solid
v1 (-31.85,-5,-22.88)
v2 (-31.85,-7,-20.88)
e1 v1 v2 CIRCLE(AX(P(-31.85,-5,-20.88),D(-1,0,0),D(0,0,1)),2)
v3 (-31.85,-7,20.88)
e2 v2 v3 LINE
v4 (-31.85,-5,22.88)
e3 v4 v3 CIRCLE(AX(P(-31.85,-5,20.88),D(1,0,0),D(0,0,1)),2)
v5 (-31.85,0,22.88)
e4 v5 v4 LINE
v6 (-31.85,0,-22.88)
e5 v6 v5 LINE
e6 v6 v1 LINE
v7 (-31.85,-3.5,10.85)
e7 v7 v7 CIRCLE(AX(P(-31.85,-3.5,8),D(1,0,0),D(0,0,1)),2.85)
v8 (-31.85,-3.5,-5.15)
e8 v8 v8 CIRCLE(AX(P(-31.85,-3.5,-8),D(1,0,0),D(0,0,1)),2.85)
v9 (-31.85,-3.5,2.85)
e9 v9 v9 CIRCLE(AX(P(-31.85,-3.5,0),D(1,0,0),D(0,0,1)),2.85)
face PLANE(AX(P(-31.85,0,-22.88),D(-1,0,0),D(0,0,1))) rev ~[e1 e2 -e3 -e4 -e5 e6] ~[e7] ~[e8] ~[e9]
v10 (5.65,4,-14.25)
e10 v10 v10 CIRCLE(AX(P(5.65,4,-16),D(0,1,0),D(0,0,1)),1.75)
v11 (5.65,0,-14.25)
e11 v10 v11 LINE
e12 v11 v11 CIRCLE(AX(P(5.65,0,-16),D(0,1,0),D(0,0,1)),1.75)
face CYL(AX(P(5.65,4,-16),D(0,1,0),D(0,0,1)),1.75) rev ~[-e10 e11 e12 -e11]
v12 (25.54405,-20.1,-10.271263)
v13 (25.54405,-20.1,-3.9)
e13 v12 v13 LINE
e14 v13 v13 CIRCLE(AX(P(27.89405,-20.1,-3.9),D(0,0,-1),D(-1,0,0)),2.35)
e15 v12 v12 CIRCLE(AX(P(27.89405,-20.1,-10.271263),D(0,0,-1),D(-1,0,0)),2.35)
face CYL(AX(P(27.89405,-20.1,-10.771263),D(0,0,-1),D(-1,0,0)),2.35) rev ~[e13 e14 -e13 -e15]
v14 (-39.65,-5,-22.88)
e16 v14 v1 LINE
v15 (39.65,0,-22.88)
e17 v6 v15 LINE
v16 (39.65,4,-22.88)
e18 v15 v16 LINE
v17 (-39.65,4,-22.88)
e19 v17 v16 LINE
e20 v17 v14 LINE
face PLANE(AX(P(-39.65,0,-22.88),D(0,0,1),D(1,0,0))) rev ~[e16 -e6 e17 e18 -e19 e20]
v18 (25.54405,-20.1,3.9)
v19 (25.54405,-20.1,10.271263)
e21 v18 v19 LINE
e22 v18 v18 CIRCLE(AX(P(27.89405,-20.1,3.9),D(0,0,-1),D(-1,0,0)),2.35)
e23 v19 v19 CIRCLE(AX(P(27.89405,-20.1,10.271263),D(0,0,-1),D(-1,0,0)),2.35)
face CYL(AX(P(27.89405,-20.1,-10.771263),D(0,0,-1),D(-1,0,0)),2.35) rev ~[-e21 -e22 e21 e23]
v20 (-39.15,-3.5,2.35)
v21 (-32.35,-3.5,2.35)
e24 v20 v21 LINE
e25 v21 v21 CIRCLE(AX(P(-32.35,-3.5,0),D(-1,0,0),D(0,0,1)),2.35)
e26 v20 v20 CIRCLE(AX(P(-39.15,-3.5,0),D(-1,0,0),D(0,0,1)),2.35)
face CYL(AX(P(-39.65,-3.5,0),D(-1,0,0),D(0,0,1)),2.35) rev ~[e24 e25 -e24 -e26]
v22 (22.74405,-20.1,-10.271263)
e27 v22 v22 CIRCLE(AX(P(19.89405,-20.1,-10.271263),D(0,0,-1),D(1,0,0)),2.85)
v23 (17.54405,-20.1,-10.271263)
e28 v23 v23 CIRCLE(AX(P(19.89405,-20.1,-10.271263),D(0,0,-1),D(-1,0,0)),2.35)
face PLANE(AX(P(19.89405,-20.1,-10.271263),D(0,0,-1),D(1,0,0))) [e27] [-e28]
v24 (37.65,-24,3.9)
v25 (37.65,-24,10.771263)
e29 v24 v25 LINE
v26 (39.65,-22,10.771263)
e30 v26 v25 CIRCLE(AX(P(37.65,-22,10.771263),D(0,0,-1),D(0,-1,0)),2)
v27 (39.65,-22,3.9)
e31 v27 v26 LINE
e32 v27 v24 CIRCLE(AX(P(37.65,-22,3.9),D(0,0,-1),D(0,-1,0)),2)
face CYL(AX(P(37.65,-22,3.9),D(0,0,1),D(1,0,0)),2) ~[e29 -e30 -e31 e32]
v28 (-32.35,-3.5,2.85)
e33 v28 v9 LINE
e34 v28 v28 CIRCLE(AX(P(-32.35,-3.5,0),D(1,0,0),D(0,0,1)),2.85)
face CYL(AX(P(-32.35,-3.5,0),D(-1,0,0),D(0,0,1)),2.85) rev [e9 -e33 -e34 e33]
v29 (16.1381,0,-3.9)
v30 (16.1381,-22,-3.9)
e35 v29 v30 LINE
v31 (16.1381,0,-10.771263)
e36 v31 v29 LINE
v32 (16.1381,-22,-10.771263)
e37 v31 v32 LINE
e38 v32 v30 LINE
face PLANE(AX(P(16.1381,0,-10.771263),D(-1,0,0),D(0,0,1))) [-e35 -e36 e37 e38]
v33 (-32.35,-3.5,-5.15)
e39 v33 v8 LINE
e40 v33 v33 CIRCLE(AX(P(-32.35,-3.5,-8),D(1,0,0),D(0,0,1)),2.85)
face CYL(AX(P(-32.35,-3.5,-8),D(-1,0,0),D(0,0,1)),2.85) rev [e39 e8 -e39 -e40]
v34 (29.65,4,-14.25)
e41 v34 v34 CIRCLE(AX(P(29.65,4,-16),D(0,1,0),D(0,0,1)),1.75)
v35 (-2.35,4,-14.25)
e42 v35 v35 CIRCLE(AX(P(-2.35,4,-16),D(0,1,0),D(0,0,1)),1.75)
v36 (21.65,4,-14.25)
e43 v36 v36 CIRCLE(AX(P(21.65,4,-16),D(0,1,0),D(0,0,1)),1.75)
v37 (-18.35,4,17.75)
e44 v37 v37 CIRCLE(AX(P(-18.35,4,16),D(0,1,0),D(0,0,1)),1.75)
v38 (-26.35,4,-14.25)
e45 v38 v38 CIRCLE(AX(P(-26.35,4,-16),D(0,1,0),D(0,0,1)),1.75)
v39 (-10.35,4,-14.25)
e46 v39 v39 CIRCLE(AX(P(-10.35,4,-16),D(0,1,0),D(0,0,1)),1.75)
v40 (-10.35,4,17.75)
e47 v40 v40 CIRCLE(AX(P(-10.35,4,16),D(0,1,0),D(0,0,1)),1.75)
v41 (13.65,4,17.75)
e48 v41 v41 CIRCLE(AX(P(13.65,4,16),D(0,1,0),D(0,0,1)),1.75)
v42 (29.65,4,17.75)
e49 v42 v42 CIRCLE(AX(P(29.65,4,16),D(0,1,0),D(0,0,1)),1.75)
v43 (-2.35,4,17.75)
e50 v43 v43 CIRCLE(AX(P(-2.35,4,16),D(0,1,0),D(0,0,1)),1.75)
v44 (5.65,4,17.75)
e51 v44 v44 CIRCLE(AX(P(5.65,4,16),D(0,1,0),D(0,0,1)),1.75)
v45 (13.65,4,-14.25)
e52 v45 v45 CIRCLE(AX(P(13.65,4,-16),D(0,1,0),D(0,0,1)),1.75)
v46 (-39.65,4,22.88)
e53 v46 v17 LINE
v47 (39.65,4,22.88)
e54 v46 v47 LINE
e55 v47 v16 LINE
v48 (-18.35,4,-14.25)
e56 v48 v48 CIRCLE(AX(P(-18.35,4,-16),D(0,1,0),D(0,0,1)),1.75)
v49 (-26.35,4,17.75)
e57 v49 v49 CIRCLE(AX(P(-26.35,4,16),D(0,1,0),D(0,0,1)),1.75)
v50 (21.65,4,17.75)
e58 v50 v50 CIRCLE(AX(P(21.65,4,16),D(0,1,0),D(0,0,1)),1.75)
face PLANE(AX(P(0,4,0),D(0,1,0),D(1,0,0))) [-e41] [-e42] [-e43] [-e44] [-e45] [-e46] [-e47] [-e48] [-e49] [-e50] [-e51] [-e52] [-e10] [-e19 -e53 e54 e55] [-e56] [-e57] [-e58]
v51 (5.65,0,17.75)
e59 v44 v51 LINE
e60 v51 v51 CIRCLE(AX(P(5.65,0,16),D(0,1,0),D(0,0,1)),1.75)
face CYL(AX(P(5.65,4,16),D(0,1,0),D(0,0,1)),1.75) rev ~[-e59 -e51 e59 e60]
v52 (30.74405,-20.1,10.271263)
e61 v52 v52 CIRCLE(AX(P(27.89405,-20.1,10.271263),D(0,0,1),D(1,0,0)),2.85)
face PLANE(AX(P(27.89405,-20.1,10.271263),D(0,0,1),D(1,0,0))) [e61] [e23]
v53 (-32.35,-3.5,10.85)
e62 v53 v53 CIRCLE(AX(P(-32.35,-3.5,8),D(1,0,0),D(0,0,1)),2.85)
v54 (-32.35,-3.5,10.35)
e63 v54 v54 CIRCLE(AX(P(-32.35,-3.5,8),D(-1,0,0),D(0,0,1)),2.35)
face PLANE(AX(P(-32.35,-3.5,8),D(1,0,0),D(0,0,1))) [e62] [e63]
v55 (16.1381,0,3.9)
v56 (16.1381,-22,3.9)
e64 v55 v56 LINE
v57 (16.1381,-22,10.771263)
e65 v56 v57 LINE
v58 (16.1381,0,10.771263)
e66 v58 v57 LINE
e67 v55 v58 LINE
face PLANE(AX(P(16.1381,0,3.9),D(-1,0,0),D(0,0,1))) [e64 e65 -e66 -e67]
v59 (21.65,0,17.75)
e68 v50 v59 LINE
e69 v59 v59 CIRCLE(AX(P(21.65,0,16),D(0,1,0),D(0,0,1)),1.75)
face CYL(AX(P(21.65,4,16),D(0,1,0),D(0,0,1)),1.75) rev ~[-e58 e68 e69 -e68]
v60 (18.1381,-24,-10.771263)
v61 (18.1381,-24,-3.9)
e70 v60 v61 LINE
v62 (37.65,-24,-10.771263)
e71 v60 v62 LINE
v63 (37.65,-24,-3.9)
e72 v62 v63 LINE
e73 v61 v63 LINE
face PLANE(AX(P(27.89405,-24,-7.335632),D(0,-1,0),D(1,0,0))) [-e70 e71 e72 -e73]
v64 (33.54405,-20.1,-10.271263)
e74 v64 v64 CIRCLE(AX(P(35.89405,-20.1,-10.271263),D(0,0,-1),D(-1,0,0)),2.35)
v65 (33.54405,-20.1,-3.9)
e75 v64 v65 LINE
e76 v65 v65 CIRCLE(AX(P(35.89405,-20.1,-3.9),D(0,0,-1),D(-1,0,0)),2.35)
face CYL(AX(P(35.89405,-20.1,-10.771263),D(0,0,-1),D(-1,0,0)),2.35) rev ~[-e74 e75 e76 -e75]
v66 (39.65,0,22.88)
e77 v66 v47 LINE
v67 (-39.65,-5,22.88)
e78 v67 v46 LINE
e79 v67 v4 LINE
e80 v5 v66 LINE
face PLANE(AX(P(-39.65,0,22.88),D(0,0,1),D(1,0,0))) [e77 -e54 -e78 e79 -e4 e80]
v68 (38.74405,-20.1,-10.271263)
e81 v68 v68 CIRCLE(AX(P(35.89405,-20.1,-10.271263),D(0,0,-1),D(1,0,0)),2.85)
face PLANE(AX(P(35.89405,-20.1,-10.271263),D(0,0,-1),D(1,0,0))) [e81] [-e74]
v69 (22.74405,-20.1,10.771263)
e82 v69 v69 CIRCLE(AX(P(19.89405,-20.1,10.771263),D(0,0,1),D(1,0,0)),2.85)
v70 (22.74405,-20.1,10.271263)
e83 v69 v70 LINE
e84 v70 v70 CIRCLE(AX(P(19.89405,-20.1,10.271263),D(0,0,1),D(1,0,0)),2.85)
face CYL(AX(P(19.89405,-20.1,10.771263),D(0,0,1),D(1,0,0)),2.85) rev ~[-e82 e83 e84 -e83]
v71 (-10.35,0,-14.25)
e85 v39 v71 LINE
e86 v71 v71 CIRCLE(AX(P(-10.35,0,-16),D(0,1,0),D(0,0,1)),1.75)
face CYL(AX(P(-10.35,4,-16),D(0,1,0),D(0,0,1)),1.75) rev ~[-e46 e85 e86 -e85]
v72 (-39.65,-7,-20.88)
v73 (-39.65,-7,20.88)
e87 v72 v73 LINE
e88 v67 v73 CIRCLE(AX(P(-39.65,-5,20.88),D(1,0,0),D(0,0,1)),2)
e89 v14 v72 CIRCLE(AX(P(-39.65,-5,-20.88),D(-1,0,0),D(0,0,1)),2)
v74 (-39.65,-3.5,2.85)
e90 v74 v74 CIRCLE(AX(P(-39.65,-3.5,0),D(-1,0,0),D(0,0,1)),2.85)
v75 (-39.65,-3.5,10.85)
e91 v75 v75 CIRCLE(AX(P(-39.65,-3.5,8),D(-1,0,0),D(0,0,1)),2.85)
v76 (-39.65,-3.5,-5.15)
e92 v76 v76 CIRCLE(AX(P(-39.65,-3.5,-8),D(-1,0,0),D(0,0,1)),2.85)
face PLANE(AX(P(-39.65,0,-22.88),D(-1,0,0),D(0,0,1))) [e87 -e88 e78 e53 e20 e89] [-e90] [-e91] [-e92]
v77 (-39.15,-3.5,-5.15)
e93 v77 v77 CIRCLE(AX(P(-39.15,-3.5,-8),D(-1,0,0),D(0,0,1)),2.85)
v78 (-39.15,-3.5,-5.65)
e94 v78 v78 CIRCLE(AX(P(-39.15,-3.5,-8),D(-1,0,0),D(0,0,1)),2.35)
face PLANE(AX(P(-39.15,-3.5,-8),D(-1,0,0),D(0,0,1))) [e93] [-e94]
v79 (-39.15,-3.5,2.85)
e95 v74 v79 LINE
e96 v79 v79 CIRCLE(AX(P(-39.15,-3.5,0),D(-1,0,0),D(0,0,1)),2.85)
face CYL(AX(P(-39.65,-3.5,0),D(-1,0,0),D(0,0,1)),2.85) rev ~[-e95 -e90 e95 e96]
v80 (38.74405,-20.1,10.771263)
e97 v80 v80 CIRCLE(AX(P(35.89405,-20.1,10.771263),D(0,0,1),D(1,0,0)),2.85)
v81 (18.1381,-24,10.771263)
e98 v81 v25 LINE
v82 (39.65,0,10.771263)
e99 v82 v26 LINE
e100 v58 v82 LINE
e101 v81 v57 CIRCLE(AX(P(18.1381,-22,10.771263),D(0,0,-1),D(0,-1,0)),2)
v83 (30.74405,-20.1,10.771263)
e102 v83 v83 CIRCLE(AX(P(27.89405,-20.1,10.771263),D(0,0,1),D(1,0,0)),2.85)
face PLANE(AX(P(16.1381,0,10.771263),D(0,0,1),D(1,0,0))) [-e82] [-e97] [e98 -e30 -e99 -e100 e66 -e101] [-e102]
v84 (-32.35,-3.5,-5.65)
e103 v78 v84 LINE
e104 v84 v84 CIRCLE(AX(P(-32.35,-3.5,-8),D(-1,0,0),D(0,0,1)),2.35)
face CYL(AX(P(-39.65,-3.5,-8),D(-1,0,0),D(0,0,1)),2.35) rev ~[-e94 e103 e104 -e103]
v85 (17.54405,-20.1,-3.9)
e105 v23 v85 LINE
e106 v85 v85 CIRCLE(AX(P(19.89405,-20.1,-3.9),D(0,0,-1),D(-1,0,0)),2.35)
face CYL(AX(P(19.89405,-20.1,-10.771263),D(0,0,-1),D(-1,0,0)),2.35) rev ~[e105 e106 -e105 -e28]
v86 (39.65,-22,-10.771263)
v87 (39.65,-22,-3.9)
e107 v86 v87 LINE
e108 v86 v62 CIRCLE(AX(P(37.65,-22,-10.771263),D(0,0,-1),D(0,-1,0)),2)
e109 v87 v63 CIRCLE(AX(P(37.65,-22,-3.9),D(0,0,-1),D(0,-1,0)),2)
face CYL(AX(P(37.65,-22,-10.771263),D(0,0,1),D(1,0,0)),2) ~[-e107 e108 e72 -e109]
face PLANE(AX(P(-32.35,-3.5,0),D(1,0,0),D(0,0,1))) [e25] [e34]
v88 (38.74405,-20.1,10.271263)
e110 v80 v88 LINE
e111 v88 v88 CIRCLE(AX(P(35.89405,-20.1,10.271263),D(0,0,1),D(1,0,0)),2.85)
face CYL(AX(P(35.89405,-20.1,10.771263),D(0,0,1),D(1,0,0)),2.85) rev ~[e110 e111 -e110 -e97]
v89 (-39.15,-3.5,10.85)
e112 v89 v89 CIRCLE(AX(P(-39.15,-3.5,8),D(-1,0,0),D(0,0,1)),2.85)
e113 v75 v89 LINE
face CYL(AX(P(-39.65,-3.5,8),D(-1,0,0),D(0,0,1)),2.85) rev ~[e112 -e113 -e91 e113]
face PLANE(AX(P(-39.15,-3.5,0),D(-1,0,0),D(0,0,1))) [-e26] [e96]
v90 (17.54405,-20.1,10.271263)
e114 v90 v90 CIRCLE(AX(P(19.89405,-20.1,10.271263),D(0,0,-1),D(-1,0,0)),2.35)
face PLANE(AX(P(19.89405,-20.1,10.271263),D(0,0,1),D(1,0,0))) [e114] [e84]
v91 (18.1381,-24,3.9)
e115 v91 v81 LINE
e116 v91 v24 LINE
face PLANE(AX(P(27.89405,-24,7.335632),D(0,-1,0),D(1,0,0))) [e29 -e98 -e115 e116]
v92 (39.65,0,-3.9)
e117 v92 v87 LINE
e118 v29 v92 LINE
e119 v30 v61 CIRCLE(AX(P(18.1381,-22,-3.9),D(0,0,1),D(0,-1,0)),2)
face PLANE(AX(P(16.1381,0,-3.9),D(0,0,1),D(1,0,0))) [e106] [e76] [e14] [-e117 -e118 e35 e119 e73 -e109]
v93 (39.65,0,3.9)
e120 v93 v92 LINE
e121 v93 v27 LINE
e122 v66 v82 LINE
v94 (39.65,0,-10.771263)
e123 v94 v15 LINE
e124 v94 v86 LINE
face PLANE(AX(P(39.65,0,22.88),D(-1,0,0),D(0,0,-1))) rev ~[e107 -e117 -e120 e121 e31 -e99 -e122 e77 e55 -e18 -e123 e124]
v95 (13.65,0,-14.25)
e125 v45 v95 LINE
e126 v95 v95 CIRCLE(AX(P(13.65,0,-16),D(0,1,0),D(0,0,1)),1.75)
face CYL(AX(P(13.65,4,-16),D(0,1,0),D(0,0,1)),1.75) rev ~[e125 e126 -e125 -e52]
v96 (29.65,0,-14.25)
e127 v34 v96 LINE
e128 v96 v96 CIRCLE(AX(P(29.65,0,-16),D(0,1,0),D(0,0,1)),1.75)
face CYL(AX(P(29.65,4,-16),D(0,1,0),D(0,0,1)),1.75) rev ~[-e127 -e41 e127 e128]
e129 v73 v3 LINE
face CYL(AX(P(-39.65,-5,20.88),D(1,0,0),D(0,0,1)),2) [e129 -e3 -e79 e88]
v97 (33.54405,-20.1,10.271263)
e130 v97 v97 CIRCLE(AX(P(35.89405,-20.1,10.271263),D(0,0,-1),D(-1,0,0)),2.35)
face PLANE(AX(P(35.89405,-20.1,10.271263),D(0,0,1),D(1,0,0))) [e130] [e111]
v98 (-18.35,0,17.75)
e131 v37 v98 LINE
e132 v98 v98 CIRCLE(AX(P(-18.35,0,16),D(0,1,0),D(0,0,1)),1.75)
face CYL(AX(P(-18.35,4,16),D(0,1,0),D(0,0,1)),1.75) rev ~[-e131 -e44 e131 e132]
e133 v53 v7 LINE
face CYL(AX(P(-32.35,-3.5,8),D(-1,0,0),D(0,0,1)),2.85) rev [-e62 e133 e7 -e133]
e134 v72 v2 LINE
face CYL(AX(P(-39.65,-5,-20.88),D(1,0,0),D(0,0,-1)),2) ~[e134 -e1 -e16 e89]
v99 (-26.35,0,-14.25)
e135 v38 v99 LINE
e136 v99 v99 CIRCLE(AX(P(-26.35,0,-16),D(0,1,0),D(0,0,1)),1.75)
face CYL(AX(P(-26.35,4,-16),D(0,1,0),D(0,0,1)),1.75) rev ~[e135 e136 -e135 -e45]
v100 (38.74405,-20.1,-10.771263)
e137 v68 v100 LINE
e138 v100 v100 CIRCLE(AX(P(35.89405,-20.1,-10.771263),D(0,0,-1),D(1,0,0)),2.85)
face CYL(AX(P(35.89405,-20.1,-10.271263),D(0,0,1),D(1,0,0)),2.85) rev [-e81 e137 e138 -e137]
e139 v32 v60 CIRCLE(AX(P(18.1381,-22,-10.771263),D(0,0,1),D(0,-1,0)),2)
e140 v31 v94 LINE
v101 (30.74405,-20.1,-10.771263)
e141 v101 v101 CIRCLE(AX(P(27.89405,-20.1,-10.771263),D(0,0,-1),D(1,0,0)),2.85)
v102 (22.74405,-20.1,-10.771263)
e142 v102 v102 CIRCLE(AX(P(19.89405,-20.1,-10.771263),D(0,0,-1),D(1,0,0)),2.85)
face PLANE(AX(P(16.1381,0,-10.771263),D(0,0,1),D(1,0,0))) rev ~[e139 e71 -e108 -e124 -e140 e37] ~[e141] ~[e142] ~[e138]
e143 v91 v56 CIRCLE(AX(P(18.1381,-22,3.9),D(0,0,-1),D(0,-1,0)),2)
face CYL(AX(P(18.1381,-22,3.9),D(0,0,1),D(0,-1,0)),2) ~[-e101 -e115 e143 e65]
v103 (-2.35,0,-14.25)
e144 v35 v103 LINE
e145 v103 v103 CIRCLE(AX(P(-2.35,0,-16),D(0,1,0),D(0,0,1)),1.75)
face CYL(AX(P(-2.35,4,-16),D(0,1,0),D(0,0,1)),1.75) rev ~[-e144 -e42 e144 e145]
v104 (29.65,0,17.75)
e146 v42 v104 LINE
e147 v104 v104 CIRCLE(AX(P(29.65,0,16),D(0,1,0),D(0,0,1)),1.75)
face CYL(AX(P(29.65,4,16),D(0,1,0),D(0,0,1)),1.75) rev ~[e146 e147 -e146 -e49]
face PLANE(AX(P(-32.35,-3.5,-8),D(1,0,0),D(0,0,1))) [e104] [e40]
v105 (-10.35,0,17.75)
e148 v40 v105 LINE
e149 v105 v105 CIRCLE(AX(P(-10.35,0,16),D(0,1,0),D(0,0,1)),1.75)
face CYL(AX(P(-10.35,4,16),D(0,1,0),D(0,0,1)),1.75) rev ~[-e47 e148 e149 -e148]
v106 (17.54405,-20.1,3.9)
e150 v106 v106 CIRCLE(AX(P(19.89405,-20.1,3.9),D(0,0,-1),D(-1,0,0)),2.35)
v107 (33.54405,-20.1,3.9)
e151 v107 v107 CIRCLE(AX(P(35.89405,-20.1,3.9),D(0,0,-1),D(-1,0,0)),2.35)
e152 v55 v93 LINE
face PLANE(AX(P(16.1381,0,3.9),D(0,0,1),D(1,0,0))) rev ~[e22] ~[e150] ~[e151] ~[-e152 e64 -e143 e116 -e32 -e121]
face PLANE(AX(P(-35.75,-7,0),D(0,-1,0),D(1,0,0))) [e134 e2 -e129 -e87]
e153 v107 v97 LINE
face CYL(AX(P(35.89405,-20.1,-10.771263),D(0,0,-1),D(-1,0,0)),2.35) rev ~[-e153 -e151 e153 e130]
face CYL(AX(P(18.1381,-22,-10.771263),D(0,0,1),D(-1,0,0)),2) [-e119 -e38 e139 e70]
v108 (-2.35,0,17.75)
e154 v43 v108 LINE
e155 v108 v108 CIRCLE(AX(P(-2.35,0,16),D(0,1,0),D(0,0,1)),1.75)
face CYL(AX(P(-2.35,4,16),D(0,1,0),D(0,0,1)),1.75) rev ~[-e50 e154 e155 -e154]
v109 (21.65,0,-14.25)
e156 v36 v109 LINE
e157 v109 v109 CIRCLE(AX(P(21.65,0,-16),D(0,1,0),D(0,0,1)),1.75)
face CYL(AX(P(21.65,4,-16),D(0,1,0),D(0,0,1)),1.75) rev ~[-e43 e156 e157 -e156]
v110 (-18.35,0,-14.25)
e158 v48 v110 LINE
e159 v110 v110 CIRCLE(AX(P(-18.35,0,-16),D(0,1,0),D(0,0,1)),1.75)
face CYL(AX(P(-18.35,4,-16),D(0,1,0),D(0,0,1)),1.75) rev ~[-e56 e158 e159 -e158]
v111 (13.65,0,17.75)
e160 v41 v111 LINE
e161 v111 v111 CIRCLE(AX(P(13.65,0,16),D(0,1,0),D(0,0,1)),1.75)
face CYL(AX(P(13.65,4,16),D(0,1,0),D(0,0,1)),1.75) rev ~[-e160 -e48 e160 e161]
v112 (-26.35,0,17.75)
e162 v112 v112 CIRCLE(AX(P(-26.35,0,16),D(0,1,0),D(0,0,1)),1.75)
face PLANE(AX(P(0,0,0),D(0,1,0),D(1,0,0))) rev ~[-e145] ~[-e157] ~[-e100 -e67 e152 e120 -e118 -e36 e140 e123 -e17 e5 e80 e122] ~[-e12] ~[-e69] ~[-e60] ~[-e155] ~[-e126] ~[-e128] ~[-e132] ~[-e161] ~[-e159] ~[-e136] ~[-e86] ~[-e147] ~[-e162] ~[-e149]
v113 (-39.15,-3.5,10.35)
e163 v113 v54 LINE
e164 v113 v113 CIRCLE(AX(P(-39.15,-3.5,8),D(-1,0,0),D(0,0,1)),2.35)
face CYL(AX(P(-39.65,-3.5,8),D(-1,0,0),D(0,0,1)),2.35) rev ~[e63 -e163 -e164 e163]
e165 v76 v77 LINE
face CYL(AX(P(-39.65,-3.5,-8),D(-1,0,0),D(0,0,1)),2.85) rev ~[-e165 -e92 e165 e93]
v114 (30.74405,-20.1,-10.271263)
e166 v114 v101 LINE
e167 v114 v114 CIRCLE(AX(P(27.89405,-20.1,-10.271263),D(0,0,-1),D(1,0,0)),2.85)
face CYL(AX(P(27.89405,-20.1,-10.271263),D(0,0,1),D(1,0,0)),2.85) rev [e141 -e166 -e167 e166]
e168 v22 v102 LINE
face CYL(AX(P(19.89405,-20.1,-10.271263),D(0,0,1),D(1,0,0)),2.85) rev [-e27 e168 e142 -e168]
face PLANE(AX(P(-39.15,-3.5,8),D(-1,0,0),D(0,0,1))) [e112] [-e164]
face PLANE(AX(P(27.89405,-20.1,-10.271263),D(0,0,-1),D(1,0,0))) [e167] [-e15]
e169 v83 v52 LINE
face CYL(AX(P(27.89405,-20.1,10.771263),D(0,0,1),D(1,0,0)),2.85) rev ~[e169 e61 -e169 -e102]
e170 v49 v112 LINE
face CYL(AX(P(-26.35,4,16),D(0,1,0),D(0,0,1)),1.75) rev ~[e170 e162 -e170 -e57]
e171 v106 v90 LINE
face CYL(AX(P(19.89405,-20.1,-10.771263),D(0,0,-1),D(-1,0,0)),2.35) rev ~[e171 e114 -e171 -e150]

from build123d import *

# Parameters (mm, degrees)
SKETCH_1_W          = 79.3
SKETCH_1_H          = 45.76
EXTRUDE_1_DEPTH     = 4
SKETCH_2_W          = 7.8
SKETCH_2_H          = 45.76
EXTRUDE_2_DEPTH     = 7
CUT_EXTRUDE_1_REACH = 84.831
SKETCH_3_R          = 2.35
SKETCH_4_R          = 2.85
CUT_EXTRUDE_2_DEPTH = 0.5
CUT_EXTRUDE_START   = -0.5
SKETCH_5_R          = 2.85
CUT_EXTRUDE_3_DEPTH = 0.5
SKETCH_6_W          = 23.51189996
SKETCH_6_H          = 6.871263118
EXTRUDE_4_DEPTH     = 24
SKETCH_7_R          = 2.35
CUT_EXTRUDE_4_DEPTH = 58.27591125
SKETCH_8_R          = 2.85
CUT_EXTRUDE_5_DEPTH = 0.5
SKETCH_9_R          = 2.85
CUT_EXTRUDE_6_DEPTH = 0.5
FILLET_1_R          = 2
FILLET_2_R          = 2
FILLET_3_R          = 2
SKETCH_10_R         = 1.75
CUT_EXTRUDE_7_DEPTH = 4


with BuildPart() as part:
    # Эскиз1 → Бобышка-Вытянуть1 (new body)
    with BuildSketch(Plane(origin=(0, 0, 0), x_dir=(1, 0, 0), z_dir=(0, 1, 0))):
        Rectangle(SKETCH_1_W, SKETCH_1_H)
    extrude(amount=EXTRUDE_1_DEPTH)

    # Эскиз2 → Бобышка-Вытянуть2 (add)
    with BuildSketch(Plane.XZ):
        with Locations((-35.75, 0)):
            Rectangle(SKETCH_2_W, SKETCH_2_H)
    extrude(amount=EXTRUDE_2_DEPTH)

    # Эскиз3 → Вырез-Вытянуть1 (cut, up to next)
    with BuildSketch(Plane.ZY.offset(39.65), mode=Mode.PRIVATE) as cut_extrude_1_sk1:
        with Locations((0, -3.5)):
            Circle(SKETCH_3_R)
    cut_extrude_1_tool1 = extrude(cut_extrude_1_sk1.sketch, amount=-CUT_EXTRUDE_1_REACH, mode=Mode.PRIVATE) & part.part
    # Эскиз3 → Вырез-Вытянуть1 (cut, up to next)
    with BuildSketch(Plane.ZY.offset(39.65), mode=Mode.PRIVATE) as cut_extrude_1_sk2:
        with Locations((-8, -3.5)):
            Circle(SKETCH_3_R)
    cut_extrude_1_tool2 = extrude(cut_extrude_1_sk2.sketch, amount=-CUT_EXTRUDE_1_REACH, mode=Mode.PRIVATE) & part.part
    # Эскиз3 → Вырез-Вытянуть1 (cut, up to next)
    with BuildSketch(Plane.ZY.offset(39.65), mode=Mode.PRIVATE) as cut_extrude_1_sk3:
        with Locations((8, -3.5)):
            Circle(SKETCH_3_R)
    cut_extrude_1_tool3 = extrude(cut_extrude_1_sk3.sketch, amount=-CUT_EXTRUDE_1_REACH, mode=Mode.PRIVATE) & part.part
    add(cut_extrude_1_tool1.solids().sort_by_distance((-39.65, -3.5, 0))[0], mode=Mode.SUBTRACT)
    add(cut_extrude_1_tool2.solids().sort_by_distance((-39.65, -3.5, -8))[0], mode=Mode.SUBTRACT)
    add(cut_extrude_1_tool3.solids().sort_by_distance((-39.65, -3.5, 8))[0], mode=Mode.SUBTRACT)

    # Эскиз4 → Вырез-Вытянуть2 (cut)
    with BuildSketch(Plane.ZY.offset(39.65)):
        with Locations((-8, -3.5)):
            Circle(SKETCH_4_R)
        with Locations((0, -3.5)):
            Circle(SKETCH_4_R)
        with Locations((8, -3.5)):
            Circle(SKETCH_4_R)
    extrude(amount=-CUT_EXTRUDE_2_DEPTH, mode=Mode.SUBTRACT)

    # Эскиз5 → Вырез-Вытянуть3 (cut)
    with BuildSketch(Plane(origin=(-31.85, 0, 0), x_dir=(0, 0, -1), z_dir=(1, 0, 0)).offset(CUT_EXTRUDE_START)):
        with Locations(Location((-8, -3.5, 0), (0, 0, 180))):
            Circle(SKETCH_5_R)
        with Locations(Location((0, -3.5, 0), (0, 0, 180))):
            Circle(SKETCH_5_R)
        with Locations(Location((8, -3.5, 0), (0, 0, 180))):
            Circle(SKETCH_5_R)
    extrude(amount=CUT_EXTRUDE_3_DEPTH, mode=Mode.SUBTRACT)

    # Эскиз6 → Бобышка-Вытянуть4 (add)
    with BuildSketch(Plane.XZ):
        with Locations((27.89405002, 7.335631559)):
            Rectangle(SKETCH_6_W, SKETCH_6_H)
        with Locations((27.89405002, -7.335631559)):
            Rectangle(SKETCH_6_W, SKETCH_6_H)
    extrude(amount=EXTRUDE_4_DEPTH)

    # Эскиз7 → Вырез-Вытянуть4 (cut, through all)
    with BuildSketch(Plane(origin=(0, 0, -10.771263118), x_dir=(-1, 0, 0), z_dir=(0, 0, -1))):
        with Locations((-27.89405002, -20.1)):
            Circle(SKETCH_7_R)
        with Locations((-19.89405002, -20.1)):
            Circle(SKETCH_7_R)
        with Locations((-35.89405002, -20.1)):
            Circle(SKETCH_7_R)
    extrude(amount=-CUT_EXTRUDE_4_DEPTH, mode=Mode.SUBTRACT)

    # Эскиз8 → Вырез-Вытянуть5 (cut)
    with BuildSketch(Plane.XY.offset(10.771263118)):
        with Locations((19.89405002, -20.1)):
            Circle(SKETCH_8_R)
        with Locations((27.89405002, -20.1)):
            Circle(SKETCH_8_R)
        with Locations((35.89405002, -20.1)):
            Circle(SKETCH_8_R)
    extrude(amount=-CUT_EXTRUDE_5_DEPTH, mode=Mode.SUBTRACT)

    # Эскиз9 → Вырез-Вытянуть6 (cut)
    with BuildSketch(Plane(origin=(0, 0, -10.771263118), x_dir=(-1, 0, 0), z_dir=(0, 0, -1)).offset(CUT_EXTRUDE_START)):
        with Locations(Location((-35.89405002, -20.1, 0), (0, 0, 180))):
            Circle(SKETCH_9_R)
        with Locations(Location((-27.89405002, -20.1, 0), (0, 0, 180))):
            Circle(SKETCH_9_R)
        with Locations(Location((-19.89405002, -20.1, 0), (0, 0, 180))):
            Circle(SKETCH_9_R)
    extrude(amount=CUT_EXTRUDE_6_DEPTH, mode=Mode.SUBTRACT)

    # Скругление1
    fillet_1_edges = [part.edges().sort_by_distance(p)[0] for p in [
        (16.13810004, -24, -7.335631559),
        (39.65, -24, -7.335631559),
    ]]
    fillet(fillet_1_edges, radius=FILLET_1_R)

    # Скругление2
    fillet_2_edges = [part.edges().sort_by_distance(p)[0] for p in [
        (39.65, -24, 7.335631559),
        (16.13810004, -24, 7.335631559),
    ]]
    fillet(fillet_2_edges, radius=FILLET_2_R)

    # Скругление3
    fillet_3_edges = [part.edges().sort_by_distance(p)[0] for p in [
        (-35.75, -7, -22.88),
        (-35.75, -7, 22.88),
    ]]
    fillet(fillet_3_edges, radius=FILLET_3_R)

    # Эскиз10 → Вырез-Вытянуть7 (cut)
    with BuildSketch(Plane(origin=(0, 4, 0), x_dir=(1, 0, 0), z_dir=(0, 1, 0))):
        with Locations(Location((29.65, 16, 0), (0, 0, 270))):
            Circle(SKETCH_10_R)
        with Locations(Location((29.65, -16, 0), (0, 0, 270))):
            Circle(SKETCH_10_R)
        with Locations(Location((21.65, 16, 0), (0, 0, 270))):
            Circle(SKETCH_10_R)
        with Locations(Location((21.65, -16, 0), (0, 0, 270))):
            Circle(SKETCH_10_R)
        with Locations(Location((13.65, 16, 0), (0, 0, 270))):
            Circle(SKETCH_10_R)
        with Locations(Location((13.65, -16, 0), (0, 0, 270))):
            Circle(SKETCH_10_R)
        with Locations(Location((5.65, 16, 0), (0, 0, 270))):
            Circle(SKETCH_10_R)
        with Locations(Location((5.65, -16, 0), (0, 0, 270))):
            Circle(SKETCH_10_R)
        with Locations(Location((-2.35, 16, 0), (0, 0, 270))):
            Circle(SKETCH_10_R)
        with Locations(Location((-2.35, -16, 0), (0, 0, 270))):
            Circle(SKETCH_10_R)
        with Locations(Location((-10.35, 16, 0), (0, 0, 270))):
            Circle(SKETCH_10_R)
        with Locations(Location((-10.35, -16, 0), (0, 0, 270))):
            Circle(SKETCH_10_R)
        with Locations(Location((-18.35, 16, 0), (0, 0, 270))):
            Circle(SKETCH_10_R)
        with Locations(Location((-18.35, -16, 0), (0, 0, 270))):
            Circle(SKETCH_10_R)
        with Locations(Location((-26.35, 16, 0), (0, 0, 270))):
            Circle(SKETCH_10_R)
        with Locations(Location((-26.35, -16, 0), (0, 0, 270))):
            Circle(SKETCH_10_R)
    extrude(amount=-CUT_EXTRUDE_7_DEPTH, mode=Mode.SUBTRACT)


solid = part.part
